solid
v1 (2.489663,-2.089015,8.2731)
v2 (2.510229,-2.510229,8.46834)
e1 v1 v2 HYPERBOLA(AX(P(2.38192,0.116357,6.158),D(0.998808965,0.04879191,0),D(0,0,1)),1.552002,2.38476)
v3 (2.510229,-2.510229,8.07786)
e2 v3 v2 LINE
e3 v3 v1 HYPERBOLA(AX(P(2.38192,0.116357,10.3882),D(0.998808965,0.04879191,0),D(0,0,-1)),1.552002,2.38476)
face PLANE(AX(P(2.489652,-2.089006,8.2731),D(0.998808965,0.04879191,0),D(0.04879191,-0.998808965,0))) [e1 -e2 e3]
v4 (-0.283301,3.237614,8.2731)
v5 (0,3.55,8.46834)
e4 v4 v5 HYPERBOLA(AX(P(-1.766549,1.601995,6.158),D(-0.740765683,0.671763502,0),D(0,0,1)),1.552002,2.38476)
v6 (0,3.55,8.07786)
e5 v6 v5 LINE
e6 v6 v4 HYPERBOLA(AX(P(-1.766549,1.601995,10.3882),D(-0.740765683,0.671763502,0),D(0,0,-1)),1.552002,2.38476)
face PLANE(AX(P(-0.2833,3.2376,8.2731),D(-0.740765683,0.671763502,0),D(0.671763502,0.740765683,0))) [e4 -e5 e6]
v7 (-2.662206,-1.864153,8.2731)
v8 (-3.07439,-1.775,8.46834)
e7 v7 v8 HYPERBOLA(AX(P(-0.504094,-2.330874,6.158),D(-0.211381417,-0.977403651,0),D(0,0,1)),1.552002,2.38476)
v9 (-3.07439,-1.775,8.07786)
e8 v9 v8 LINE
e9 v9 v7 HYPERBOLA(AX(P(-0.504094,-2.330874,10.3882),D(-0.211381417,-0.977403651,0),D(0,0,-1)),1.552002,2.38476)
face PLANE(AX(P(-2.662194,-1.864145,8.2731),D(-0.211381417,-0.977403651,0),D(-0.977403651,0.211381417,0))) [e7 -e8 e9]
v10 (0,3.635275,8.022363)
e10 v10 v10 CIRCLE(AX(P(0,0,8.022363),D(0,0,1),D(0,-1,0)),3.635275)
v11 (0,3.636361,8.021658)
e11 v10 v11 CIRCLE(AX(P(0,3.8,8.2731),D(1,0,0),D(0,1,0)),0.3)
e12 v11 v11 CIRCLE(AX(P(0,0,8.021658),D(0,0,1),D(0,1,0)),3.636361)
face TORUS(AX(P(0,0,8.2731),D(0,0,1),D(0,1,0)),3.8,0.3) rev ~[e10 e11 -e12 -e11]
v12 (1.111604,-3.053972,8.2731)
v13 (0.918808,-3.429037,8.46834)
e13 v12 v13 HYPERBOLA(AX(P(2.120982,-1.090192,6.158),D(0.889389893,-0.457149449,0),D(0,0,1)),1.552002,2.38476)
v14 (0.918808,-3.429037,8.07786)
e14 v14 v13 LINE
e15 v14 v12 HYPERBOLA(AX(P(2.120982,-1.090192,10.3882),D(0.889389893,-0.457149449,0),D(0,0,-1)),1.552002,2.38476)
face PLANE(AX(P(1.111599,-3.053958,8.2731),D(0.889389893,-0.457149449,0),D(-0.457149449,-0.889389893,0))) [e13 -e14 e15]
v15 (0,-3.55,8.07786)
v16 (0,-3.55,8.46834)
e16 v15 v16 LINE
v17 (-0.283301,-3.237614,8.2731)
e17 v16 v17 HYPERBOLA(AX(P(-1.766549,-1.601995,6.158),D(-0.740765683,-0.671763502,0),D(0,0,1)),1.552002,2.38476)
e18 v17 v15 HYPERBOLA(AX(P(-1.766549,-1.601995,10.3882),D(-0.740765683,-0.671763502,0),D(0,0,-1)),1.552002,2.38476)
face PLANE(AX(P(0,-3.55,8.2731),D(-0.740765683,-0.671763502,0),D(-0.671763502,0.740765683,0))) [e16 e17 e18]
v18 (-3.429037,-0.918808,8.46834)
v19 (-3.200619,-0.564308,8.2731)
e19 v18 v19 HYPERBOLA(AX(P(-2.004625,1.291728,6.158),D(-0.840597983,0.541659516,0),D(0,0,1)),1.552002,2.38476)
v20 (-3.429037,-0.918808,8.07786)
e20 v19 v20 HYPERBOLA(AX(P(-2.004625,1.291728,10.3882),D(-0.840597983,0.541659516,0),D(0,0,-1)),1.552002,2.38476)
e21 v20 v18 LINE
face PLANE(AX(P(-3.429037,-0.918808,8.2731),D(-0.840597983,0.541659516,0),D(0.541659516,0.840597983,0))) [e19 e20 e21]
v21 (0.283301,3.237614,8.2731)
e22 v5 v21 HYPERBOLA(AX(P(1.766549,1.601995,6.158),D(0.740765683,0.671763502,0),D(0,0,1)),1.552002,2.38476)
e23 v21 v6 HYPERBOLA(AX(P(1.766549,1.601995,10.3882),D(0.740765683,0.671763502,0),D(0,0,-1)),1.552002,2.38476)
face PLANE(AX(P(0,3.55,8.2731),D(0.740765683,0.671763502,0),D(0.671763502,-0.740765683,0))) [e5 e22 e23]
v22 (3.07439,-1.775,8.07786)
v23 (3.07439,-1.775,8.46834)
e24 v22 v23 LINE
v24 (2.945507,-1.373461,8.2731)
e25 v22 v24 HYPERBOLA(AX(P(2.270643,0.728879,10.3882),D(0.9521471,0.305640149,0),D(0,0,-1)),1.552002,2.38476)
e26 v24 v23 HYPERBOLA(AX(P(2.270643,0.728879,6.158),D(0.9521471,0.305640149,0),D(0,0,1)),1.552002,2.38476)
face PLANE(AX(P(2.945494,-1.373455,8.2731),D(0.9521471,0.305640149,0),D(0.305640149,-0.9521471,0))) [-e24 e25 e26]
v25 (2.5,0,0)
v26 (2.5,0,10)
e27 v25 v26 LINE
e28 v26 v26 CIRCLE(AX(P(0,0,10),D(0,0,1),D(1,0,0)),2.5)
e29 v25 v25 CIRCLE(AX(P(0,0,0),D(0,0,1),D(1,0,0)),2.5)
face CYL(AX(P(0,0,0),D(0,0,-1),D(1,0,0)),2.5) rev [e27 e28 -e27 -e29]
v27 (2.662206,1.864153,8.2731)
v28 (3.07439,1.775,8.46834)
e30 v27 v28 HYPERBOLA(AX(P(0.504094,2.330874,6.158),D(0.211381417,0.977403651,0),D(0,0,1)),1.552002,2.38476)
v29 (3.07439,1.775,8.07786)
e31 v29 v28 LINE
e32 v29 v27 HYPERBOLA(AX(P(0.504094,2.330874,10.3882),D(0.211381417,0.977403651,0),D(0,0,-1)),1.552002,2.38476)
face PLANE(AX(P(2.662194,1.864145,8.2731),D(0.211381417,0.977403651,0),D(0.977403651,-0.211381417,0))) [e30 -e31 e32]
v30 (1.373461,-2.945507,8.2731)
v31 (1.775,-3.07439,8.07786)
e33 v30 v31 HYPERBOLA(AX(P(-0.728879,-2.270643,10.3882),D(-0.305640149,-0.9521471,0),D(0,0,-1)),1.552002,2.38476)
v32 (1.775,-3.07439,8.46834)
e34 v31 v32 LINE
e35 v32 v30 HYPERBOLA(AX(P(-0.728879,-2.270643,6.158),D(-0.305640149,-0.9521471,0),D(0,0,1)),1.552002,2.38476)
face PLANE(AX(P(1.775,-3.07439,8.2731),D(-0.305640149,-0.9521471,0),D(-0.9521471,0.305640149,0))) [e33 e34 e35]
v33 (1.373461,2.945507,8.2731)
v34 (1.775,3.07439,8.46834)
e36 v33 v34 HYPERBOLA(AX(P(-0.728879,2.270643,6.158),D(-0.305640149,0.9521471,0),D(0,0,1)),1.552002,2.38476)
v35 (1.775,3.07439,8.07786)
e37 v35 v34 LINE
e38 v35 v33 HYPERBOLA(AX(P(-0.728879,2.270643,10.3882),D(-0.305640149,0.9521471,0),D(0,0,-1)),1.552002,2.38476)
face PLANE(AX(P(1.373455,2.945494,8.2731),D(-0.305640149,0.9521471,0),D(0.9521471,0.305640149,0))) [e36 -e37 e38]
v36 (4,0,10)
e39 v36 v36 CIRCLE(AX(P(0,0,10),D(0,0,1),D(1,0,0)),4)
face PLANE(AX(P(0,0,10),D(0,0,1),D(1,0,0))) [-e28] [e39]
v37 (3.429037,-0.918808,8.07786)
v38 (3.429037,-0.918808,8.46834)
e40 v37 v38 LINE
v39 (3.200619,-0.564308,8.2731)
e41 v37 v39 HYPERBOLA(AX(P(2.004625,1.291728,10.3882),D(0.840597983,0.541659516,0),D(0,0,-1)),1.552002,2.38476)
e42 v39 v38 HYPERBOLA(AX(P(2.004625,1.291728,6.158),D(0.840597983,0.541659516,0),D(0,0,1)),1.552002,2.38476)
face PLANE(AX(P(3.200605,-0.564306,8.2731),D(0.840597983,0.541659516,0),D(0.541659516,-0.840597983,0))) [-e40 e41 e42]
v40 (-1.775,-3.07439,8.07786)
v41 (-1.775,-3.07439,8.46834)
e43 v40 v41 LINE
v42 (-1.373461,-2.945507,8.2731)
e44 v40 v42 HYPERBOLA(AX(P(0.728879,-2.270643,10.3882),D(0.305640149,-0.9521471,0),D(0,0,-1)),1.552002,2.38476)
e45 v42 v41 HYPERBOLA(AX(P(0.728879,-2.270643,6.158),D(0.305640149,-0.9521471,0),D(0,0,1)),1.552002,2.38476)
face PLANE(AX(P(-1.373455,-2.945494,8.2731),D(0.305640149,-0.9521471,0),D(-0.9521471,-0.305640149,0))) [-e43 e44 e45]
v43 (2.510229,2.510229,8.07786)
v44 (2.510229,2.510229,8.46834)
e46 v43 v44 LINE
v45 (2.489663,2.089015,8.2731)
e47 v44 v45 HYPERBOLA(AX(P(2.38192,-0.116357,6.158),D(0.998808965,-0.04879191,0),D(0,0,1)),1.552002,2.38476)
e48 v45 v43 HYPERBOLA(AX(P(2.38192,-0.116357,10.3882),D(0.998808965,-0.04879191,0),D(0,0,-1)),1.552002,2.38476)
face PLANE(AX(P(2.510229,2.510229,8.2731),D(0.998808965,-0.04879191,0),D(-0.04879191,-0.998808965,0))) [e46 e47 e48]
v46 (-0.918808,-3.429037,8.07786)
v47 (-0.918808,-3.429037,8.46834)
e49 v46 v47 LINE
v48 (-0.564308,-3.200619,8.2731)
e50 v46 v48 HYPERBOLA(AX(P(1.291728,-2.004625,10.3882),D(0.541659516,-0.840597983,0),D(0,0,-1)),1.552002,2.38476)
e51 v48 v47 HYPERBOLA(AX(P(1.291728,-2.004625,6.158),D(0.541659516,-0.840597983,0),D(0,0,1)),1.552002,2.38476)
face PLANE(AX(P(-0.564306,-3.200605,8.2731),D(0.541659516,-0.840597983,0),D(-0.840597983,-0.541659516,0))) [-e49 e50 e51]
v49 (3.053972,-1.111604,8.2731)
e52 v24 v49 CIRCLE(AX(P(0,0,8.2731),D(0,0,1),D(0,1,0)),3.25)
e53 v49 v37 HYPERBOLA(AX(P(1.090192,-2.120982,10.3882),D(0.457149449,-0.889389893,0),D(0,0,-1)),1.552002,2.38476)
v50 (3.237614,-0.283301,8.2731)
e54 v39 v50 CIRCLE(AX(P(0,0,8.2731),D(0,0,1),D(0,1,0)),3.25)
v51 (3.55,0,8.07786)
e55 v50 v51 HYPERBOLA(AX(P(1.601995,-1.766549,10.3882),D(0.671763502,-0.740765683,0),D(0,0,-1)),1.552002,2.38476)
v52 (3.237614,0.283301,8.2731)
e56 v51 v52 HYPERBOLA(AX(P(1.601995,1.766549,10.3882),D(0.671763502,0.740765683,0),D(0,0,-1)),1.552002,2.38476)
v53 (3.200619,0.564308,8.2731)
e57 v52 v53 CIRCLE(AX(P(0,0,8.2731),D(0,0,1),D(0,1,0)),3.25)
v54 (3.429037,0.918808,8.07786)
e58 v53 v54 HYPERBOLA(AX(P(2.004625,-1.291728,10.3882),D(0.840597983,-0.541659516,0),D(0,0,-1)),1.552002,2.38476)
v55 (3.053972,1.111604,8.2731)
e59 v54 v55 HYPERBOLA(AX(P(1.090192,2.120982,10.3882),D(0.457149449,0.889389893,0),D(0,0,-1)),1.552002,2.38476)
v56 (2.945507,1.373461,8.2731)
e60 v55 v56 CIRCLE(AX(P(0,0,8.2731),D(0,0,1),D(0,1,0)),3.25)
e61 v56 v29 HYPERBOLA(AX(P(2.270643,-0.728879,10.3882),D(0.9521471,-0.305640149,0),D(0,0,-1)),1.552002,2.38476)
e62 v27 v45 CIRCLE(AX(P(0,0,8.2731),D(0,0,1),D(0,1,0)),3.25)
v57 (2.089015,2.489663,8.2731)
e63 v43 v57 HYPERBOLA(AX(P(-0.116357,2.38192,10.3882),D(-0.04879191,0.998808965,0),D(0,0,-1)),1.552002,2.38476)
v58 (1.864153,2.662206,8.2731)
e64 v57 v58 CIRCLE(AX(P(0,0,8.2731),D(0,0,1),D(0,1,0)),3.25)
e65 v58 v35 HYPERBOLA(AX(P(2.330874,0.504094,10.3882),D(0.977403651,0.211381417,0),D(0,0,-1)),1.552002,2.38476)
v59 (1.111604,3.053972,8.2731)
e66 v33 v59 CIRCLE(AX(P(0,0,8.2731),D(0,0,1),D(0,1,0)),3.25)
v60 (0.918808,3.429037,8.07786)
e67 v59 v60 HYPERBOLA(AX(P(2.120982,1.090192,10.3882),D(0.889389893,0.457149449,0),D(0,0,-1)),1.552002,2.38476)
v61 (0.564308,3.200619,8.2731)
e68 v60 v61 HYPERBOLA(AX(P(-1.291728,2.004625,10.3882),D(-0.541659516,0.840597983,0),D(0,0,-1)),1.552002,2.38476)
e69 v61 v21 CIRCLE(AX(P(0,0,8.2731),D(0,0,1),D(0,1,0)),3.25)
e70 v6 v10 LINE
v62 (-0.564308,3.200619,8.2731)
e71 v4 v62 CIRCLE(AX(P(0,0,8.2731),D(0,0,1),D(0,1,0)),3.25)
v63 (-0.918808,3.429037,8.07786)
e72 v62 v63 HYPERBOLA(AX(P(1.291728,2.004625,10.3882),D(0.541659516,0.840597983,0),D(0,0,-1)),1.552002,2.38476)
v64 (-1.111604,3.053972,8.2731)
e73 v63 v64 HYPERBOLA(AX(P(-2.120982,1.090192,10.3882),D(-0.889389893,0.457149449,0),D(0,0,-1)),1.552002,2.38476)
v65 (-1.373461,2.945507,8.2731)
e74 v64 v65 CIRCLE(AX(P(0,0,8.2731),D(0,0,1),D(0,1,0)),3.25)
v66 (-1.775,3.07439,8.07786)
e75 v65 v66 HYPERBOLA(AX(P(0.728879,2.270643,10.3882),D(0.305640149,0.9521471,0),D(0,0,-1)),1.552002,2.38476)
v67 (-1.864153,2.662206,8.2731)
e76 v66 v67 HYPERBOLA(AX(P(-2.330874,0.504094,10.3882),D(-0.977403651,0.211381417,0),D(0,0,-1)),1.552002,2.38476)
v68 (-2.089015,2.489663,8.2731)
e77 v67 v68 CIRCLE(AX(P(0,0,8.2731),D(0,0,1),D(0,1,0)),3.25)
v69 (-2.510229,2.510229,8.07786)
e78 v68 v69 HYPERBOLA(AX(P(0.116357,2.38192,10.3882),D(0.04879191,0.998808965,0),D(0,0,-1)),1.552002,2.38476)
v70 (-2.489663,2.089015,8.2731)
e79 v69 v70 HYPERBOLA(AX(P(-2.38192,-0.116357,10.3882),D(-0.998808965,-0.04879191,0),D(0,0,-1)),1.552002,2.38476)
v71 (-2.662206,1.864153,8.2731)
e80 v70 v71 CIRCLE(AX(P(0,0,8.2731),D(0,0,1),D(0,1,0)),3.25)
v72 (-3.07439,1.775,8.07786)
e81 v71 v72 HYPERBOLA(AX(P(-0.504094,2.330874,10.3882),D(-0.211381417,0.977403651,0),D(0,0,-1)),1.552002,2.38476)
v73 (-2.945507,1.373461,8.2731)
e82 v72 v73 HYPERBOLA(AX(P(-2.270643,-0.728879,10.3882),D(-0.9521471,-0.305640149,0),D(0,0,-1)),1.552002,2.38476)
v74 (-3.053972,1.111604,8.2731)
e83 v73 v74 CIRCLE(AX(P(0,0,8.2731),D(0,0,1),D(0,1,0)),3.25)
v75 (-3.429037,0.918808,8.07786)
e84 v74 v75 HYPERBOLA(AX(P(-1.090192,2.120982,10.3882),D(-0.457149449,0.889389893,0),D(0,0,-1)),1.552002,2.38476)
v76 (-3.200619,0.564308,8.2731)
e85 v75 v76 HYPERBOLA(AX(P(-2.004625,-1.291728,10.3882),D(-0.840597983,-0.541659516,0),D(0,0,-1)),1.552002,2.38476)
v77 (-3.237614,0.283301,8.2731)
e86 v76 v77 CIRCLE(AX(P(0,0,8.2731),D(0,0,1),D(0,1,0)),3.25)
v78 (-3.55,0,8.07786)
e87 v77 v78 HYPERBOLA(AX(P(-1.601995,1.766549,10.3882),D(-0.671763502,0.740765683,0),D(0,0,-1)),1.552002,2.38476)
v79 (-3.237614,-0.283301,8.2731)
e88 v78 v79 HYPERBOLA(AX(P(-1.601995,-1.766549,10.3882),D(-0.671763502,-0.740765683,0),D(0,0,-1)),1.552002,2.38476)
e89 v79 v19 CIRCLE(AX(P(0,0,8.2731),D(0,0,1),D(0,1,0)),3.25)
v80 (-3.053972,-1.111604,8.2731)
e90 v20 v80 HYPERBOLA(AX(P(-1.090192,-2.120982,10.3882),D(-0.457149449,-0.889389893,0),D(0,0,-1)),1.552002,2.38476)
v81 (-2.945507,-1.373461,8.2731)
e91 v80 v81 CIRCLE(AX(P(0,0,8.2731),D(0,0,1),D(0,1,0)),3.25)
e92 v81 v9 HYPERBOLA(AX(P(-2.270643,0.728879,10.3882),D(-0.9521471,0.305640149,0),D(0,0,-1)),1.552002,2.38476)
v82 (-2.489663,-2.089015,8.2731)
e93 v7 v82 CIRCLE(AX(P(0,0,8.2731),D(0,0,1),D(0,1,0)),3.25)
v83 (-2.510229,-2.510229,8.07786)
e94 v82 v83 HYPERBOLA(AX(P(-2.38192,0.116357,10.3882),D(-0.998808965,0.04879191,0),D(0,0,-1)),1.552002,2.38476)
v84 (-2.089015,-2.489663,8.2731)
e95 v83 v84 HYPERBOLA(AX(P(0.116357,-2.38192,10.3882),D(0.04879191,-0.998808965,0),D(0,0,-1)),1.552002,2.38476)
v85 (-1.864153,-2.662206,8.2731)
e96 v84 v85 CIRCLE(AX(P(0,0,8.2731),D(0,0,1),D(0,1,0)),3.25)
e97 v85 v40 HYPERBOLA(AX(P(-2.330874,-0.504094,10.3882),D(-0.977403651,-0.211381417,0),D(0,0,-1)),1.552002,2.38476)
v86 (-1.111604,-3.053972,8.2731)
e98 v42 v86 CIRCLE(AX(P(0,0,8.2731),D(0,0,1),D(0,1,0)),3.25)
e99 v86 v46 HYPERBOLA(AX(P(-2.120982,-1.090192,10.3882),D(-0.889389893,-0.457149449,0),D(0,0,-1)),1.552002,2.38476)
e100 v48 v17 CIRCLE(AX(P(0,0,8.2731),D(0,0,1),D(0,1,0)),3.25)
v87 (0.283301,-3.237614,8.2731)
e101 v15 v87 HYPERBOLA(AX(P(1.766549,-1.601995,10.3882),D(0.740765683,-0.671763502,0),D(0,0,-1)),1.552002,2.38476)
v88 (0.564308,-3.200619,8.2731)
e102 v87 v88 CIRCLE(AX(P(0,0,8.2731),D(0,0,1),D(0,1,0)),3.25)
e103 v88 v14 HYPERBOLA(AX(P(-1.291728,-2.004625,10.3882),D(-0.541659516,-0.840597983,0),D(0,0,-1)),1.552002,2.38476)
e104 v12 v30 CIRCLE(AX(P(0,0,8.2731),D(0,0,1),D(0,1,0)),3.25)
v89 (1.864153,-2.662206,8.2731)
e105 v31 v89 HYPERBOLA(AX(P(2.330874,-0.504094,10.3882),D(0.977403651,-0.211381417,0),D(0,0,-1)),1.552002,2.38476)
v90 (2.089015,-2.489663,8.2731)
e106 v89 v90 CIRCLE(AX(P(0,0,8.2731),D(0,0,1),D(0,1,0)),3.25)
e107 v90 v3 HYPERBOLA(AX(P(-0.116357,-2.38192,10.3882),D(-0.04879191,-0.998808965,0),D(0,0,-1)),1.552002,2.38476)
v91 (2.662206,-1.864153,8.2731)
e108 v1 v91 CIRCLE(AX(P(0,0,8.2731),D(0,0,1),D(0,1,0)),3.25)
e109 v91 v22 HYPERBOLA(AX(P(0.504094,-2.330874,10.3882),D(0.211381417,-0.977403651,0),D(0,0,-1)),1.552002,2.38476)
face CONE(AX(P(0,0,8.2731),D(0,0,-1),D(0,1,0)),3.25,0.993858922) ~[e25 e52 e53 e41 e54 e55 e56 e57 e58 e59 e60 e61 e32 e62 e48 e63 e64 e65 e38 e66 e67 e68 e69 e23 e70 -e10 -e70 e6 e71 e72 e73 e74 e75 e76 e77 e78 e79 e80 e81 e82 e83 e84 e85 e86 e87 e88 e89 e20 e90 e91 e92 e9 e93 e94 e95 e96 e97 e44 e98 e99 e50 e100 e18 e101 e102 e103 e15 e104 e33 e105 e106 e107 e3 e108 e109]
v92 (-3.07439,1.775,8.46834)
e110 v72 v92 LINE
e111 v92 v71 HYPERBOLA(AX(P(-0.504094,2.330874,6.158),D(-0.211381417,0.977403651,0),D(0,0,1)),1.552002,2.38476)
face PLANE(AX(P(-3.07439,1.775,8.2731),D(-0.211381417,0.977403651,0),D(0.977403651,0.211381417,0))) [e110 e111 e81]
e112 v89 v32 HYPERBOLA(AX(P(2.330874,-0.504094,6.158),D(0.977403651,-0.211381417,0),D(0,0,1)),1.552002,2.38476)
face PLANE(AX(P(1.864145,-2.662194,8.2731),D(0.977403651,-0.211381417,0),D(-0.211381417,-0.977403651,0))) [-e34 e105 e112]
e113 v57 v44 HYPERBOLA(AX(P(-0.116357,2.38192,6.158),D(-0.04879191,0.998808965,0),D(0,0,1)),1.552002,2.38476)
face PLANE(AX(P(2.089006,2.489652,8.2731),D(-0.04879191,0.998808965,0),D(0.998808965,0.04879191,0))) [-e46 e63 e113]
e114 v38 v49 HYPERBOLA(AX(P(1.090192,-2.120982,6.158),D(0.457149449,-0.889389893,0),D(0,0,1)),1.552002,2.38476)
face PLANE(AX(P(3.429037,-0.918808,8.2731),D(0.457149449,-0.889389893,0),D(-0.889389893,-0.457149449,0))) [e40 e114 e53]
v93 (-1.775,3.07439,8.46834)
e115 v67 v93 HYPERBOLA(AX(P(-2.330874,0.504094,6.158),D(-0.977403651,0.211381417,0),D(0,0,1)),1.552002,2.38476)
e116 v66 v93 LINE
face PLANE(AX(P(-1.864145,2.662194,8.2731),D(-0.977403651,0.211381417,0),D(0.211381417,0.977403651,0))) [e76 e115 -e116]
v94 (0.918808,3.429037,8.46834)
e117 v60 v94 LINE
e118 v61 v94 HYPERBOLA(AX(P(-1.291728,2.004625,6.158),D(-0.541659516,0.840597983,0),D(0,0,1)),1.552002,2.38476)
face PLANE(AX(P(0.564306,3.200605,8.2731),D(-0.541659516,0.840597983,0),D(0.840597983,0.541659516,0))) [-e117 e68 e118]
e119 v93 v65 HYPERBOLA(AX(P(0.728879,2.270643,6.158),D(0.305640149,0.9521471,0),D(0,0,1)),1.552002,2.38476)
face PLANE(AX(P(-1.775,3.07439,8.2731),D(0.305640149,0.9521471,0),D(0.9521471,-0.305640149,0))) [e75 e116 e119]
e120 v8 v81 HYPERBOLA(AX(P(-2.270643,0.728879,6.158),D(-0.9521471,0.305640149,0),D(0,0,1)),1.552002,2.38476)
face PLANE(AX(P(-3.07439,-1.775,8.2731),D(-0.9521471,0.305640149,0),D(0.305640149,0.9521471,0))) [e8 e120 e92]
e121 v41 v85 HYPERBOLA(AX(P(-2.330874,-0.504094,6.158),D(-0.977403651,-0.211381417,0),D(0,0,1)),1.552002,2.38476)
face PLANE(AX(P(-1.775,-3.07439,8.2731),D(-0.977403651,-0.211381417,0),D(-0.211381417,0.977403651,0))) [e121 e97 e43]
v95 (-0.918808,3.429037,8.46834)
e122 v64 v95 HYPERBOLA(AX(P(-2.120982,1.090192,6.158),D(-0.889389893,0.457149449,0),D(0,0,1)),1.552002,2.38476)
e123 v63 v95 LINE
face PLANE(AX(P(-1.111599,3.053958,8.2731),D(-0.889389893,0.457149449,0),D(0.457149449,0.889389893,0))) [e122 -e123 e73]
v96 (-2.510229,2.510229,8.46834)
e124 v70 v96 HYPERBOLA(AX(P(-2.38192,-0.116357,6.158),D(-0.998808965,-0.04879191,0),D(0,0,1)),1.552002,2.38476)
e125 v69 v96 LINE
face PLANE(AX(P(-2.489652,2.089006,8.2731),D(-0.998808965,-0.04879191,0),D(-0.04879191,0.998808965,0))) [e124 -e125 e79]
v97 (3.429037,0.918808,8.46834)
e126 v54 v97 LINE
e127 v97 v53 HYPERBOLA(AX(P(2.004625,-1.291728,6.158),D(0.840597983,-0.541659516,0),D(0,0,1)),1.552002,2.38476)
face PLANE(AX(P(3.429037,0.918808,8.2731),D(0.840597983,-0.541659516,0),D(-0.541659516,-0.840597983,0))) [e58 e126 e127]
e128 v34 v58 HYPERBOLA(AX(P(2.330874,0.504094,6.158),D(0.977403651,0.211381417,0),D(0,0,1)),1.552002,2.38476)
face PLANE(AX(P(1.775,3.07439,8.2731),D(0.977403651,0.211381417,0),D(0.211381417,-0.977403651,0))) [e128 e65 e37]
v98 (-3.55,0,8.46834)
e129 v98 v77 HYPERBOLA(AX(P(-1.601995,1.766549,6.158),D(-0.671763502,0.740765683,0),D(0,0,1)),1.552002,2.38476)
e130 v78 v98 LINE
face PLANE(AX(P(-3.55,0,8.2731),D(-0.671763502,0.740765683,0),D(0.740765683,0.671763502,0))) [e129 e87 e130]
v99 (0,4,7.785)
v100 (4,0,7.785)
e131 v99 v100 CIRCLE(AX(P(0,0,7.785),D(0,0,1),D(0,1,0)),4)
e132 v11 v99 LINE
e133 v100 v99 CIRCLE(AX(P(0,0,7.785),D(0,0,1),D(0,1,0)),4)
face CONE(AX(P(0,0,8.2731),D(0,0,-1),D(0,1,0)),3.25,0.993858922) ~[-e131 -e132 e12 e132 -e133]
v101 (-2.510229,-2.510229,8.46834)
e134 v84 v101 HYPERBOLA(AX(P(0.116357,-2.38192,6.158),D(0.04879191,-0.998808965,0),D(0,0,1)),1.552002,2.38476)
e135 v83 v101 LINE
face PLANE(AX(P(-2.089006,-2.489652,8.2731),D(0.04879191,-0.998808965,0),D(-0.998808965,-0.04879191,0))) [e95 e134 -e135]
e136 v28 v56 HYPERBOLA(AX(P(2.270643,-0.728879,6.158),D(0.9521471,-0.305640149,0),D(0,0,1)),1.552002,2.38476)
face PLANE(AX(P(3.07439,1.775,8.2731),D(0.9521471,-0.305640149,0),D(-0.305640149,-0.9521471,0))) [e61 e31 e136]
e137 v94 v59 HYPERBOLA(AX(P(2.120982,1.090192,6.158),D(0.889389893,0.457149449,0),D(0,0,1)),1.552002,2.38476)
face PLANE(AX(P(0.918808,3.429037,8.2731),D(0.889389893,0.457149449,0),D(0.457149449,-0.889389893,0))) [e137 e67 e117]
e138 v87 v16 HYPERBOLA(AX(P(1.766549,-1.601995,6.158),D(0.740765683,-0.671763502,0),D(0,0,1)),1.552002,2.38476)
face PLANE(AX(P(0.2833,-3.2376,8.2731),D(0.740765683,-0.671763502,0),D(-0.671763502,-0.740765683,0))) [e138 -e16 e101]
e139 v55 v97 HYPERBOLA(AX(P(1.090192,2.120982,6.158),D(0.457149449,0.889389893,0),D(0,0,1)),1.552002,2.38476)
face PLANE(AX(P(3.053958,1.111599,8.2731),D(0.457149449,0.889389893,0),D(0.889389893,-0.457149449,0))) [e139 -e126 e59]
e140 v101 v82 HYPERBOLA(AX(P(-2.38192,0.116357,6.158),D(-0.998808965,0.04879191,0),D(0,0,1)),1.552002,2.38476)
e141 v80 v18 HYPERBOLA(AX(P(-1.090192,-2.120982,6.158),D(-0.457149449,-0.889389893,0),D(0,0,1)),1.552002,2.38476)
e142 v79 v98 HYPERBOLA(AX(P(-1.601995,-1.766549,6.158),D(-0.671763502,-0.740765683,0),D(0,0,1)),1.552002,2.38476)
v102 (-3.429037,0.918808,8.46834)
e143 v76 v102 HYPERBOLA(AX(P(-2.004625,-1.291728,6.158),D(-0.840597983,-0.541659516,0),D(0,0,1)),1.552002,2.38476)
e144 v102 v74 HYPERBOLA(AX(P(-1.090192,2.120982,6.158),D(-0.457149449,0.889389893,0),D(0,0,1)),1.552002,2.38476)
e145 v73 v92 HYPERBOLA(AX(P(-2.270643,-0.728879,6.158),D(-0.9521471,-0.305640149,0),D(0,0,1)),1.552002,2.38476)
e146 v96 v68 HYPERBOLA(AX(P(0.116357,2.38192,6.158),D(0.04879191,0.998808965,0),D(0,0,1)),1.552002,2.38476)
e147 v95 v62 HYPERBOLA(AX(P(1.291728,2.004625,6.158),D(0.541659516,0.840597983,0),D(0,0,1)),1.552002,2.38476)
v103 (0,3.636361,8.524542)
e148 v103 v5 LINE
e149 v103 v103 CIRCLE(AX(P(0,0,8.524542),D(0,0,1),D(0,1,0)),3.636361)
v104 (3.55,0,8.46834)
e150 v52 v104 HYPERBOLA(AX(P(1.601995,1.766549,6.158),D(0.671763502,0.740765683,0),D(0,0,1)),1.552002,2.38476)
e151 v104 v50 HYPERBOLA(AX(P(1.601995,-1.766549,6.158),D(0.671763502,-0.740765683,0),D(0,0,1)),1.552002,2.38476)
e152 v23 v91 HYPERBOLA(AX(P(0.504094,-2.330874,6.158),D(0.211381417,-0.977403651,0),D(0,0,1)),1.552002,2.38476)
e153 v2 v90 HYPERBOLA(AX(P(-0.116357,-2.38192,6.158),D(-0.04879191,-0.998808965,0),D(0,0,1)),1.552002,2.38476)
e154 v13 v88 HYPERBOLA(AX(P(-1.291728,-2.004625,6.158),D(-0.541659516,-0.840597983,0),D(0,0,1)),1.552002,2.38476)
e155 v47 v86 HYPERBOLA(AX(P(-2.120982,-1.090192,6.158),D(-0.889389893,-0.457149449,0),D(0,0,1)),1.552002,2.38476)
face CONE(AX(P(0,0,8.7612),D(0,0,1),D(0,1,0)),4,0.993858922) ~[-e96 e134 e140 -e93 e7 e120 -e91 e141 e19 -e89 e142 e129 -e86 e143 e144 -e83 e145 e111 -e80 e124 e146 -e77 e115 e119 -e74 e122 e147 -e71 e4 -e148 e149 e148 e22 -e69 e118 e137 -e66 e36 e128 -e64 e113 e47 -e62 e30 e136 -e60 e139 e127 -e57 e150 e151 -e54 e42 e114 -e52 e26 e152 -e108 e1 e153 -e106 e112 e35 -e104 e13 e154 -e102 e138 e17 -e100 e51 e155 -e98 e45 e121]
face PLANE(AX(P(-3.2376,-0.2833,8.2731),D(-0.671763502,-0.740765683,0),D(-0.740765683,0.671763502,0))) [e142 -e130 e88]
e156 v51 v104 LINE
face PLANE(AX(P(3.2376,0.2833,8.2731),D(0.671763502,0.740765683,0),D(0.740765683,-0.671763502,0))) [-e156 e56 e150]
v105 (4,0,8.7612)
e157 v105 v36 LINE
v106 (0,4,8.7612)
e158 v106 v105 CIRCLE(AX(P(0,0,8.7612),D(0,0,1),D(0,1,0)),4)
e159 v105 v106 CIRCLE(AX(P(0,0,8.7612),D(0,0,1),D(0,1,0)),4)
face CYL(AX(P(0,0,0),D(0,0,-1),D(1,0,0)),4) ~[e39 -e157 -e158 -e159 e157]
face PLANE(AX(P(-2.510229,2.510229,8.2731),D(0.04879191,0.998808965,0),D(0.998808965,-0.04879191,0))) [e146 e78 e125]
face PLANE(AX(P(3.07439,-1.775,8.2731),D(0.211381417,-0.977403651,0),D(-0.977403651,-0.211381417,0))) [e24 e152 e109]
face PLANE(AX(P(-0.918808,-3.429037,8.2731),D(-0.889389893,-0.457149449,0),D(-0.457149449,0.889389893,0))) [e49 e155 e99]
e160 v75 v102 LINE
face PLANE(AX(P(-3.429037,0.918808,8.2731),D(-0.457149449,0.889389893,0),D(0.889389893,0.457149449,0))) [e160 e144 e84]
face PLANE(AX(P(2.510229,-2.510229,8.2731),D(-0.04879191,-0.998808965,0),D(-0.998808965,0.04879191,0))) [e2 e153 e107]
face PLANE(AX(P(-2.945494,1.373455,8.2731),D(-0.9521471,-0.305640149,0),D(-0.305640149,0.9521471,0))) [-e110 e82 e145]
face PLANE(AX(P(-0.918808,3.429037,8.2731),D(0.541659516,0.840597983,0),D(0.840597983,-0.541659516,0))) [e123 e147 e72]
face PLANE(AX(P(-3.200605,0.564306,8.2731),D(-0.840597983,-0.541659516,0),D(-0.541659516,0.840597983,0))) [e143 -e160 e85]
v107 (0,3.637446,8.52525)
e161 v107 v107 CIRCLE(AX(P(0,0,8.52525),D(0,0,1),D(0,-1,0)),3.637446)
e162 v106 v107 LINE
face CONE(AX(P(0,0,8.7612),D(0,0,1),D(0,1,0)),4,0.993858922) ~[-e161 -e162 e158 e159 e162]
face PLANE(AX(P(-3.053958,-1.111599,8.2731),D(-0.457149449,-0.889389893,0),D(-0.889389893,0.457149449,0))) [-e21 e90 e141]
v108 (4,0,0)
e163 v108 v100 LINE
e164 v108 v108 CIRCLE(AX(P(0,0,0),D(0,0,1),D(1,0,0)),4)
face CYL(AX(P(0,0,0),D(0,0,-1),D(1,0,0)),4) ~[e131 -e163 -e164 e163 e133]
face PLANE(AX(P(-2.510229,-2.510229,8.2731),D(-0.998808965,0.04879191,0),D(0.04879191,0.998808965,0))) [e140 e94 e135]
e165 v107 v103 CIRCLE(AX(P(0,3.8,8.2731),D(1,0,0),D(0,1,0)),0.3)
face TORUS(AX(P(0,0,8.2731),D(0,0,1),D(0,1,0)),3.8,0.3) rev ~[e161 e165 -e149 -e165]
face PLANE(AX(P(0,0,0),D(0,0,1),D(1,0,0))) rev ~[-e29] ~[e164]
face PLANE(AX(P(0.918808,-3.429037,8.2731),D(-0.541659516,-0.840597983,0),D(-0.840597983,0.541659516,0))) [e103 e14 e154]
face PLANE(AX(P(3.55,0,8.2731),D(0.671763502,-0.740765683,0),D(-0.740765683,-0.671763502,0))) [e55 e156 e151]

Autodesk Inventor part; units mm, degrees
ref_plane "YZ Plane" through (0, 0, 0) normal (1, 0, 0) x (0, 1, 0)
ref_plane "XZ Plane" through (0, 0, 0) normal (0, 1, 0) x (-1, 0, 0)
sketch "Sketch1" plane through (0, 0, 0) normal (0, 0, 1) x (1, 0, 0)
  circle A0 centre (0, 0) radius 2.5
  circle A1 centre (0, 0) radius 4
  line L0 (-3.5063, 3.5) -> (5.715, 3.5) construction
  line L1 (-3.4532, 4.1) -> (5.7681, 4.1) construction
  dimension "d0" = 5
  dimension "d1" = 0.6
  dimension "d2" = 0.1
  dimension "d3" = 1
extrude "Extrusion1" add sketch "Sketch1" along normal blind 10
sketch "Sketch2" plane through (0, 0, 0) normal (1, 0, 0) x (0, 1, 0)
  line L0 (4, 10) -> (-4, 10) projected
  line L1 (-4, 0) -> (4, 0) projected
  line L2 (4, 10) -> (4, 8.7612)
  line L3 (4, 0) -> (4, 10) projected
  circle A0 centre (3.8, 8.2731) radius 0.3
  line L4 (4, 8.7612) -> (3.25, 8.2731)
  line L5 (3.25, 8.2731) -> (4, 7.785)
  line L6 (2.5, 0) -> (2.5, 10) projected
  line L7 (0, -2) -> (0, 12) projected
  point P0 (0, 0)
  dimension "d6" = 0.6
  dimension "d7" = 0.1
  dimension "d8" = 0.75
revolve "Revolution1" cut sketch "Sketch2" angle 360 about axis through (0, 0, -10) along (0, 0, 1) picked at (3.9033, 8.3516) contours L3 A0 L4 | L3 A0 | A0 L5 L4 | L3 L5 A0
ref_plane "Work Plane1" through (0, 3.25, 8.2731) normal (0, 0, 1) x (1, 0, 0)
sketch "Sketch4" plane through (0, 3.25, 8.2731) normal (0, 0, 1) x (1, 0, 0)
  line L0 (-1.6699, 0.85) -> (1.5938, 0.85) construction
  line L1 (-1.4284, 0.3) -> (1.8353, 0.3) construction
  circle A0 centre (0, -3.25) radius 4 projected
  circle A1 centre (0, -3.25) radius 3.25 projected
  line L2 (0, -3.25) -> (-0.2833, -0.0124)
  line L3 (0, -3.25) -> (0.2833, -0.0124)
  arc A2 (0.2833, -0.0124) -> (-0.2833, -0.0124) centre (0, -3.25) ccw
  line L4 (-0.2833, -0.0124) -> (0, 0.3)
  line L5 (0, 0.3) -> (0.2833, -0.0124)
  point P0 (0, 0)
  dimension "d16" = 0.55
  dimension "d17" = 0.1
  dimension "d18" = 10
extrude "Extrusion3" add sketch "Sketch4" along normal through all both and the other way through all contours A1 L4 L5
sketch "Sketch3" plane through (0, 3.25, 8.2731) normal (0, 0, 1) x (1, 0, 0)
  line L0 (0, -3.25) -> (-0.1745, 0.7462) construction
  circle A0 centre (0, -3.25) radius 4 projected
  line L1 (0, -3.25) -> (0.1745, 0.7462) construction
  arc A1 (0.1745, 0.7462) -> (-0.1745, 0.7462) centre (0, -3.25) ccw
  circle A2 centre (0, -3.25) radius 3.25 projected
  arc A3 (0.1418, -0.0031) -> (-0.1418, -0.0031) centre (0, -3.25) ccw
  line L2 (-0.1745, 0.7462) -> (-0.1418, -0.0031)
  line L3 (0.1418, -0.0031) -> (0.1745, 0.7462)
  line L4 (0, 0.75) -> (-0.1418, -0.0031)
  line L5 (0, 0.75) -> (0.1418, -0.0031)
  point P0 (0, 0)
  dimension "d10" = 5
pattern_circular "Circular Pattern2" count 24 over 360 about axis through (0, 0, -10) along (0, 0, 1) of "Extrusion3"
properties part number "Thoughts for a new driver gear"
